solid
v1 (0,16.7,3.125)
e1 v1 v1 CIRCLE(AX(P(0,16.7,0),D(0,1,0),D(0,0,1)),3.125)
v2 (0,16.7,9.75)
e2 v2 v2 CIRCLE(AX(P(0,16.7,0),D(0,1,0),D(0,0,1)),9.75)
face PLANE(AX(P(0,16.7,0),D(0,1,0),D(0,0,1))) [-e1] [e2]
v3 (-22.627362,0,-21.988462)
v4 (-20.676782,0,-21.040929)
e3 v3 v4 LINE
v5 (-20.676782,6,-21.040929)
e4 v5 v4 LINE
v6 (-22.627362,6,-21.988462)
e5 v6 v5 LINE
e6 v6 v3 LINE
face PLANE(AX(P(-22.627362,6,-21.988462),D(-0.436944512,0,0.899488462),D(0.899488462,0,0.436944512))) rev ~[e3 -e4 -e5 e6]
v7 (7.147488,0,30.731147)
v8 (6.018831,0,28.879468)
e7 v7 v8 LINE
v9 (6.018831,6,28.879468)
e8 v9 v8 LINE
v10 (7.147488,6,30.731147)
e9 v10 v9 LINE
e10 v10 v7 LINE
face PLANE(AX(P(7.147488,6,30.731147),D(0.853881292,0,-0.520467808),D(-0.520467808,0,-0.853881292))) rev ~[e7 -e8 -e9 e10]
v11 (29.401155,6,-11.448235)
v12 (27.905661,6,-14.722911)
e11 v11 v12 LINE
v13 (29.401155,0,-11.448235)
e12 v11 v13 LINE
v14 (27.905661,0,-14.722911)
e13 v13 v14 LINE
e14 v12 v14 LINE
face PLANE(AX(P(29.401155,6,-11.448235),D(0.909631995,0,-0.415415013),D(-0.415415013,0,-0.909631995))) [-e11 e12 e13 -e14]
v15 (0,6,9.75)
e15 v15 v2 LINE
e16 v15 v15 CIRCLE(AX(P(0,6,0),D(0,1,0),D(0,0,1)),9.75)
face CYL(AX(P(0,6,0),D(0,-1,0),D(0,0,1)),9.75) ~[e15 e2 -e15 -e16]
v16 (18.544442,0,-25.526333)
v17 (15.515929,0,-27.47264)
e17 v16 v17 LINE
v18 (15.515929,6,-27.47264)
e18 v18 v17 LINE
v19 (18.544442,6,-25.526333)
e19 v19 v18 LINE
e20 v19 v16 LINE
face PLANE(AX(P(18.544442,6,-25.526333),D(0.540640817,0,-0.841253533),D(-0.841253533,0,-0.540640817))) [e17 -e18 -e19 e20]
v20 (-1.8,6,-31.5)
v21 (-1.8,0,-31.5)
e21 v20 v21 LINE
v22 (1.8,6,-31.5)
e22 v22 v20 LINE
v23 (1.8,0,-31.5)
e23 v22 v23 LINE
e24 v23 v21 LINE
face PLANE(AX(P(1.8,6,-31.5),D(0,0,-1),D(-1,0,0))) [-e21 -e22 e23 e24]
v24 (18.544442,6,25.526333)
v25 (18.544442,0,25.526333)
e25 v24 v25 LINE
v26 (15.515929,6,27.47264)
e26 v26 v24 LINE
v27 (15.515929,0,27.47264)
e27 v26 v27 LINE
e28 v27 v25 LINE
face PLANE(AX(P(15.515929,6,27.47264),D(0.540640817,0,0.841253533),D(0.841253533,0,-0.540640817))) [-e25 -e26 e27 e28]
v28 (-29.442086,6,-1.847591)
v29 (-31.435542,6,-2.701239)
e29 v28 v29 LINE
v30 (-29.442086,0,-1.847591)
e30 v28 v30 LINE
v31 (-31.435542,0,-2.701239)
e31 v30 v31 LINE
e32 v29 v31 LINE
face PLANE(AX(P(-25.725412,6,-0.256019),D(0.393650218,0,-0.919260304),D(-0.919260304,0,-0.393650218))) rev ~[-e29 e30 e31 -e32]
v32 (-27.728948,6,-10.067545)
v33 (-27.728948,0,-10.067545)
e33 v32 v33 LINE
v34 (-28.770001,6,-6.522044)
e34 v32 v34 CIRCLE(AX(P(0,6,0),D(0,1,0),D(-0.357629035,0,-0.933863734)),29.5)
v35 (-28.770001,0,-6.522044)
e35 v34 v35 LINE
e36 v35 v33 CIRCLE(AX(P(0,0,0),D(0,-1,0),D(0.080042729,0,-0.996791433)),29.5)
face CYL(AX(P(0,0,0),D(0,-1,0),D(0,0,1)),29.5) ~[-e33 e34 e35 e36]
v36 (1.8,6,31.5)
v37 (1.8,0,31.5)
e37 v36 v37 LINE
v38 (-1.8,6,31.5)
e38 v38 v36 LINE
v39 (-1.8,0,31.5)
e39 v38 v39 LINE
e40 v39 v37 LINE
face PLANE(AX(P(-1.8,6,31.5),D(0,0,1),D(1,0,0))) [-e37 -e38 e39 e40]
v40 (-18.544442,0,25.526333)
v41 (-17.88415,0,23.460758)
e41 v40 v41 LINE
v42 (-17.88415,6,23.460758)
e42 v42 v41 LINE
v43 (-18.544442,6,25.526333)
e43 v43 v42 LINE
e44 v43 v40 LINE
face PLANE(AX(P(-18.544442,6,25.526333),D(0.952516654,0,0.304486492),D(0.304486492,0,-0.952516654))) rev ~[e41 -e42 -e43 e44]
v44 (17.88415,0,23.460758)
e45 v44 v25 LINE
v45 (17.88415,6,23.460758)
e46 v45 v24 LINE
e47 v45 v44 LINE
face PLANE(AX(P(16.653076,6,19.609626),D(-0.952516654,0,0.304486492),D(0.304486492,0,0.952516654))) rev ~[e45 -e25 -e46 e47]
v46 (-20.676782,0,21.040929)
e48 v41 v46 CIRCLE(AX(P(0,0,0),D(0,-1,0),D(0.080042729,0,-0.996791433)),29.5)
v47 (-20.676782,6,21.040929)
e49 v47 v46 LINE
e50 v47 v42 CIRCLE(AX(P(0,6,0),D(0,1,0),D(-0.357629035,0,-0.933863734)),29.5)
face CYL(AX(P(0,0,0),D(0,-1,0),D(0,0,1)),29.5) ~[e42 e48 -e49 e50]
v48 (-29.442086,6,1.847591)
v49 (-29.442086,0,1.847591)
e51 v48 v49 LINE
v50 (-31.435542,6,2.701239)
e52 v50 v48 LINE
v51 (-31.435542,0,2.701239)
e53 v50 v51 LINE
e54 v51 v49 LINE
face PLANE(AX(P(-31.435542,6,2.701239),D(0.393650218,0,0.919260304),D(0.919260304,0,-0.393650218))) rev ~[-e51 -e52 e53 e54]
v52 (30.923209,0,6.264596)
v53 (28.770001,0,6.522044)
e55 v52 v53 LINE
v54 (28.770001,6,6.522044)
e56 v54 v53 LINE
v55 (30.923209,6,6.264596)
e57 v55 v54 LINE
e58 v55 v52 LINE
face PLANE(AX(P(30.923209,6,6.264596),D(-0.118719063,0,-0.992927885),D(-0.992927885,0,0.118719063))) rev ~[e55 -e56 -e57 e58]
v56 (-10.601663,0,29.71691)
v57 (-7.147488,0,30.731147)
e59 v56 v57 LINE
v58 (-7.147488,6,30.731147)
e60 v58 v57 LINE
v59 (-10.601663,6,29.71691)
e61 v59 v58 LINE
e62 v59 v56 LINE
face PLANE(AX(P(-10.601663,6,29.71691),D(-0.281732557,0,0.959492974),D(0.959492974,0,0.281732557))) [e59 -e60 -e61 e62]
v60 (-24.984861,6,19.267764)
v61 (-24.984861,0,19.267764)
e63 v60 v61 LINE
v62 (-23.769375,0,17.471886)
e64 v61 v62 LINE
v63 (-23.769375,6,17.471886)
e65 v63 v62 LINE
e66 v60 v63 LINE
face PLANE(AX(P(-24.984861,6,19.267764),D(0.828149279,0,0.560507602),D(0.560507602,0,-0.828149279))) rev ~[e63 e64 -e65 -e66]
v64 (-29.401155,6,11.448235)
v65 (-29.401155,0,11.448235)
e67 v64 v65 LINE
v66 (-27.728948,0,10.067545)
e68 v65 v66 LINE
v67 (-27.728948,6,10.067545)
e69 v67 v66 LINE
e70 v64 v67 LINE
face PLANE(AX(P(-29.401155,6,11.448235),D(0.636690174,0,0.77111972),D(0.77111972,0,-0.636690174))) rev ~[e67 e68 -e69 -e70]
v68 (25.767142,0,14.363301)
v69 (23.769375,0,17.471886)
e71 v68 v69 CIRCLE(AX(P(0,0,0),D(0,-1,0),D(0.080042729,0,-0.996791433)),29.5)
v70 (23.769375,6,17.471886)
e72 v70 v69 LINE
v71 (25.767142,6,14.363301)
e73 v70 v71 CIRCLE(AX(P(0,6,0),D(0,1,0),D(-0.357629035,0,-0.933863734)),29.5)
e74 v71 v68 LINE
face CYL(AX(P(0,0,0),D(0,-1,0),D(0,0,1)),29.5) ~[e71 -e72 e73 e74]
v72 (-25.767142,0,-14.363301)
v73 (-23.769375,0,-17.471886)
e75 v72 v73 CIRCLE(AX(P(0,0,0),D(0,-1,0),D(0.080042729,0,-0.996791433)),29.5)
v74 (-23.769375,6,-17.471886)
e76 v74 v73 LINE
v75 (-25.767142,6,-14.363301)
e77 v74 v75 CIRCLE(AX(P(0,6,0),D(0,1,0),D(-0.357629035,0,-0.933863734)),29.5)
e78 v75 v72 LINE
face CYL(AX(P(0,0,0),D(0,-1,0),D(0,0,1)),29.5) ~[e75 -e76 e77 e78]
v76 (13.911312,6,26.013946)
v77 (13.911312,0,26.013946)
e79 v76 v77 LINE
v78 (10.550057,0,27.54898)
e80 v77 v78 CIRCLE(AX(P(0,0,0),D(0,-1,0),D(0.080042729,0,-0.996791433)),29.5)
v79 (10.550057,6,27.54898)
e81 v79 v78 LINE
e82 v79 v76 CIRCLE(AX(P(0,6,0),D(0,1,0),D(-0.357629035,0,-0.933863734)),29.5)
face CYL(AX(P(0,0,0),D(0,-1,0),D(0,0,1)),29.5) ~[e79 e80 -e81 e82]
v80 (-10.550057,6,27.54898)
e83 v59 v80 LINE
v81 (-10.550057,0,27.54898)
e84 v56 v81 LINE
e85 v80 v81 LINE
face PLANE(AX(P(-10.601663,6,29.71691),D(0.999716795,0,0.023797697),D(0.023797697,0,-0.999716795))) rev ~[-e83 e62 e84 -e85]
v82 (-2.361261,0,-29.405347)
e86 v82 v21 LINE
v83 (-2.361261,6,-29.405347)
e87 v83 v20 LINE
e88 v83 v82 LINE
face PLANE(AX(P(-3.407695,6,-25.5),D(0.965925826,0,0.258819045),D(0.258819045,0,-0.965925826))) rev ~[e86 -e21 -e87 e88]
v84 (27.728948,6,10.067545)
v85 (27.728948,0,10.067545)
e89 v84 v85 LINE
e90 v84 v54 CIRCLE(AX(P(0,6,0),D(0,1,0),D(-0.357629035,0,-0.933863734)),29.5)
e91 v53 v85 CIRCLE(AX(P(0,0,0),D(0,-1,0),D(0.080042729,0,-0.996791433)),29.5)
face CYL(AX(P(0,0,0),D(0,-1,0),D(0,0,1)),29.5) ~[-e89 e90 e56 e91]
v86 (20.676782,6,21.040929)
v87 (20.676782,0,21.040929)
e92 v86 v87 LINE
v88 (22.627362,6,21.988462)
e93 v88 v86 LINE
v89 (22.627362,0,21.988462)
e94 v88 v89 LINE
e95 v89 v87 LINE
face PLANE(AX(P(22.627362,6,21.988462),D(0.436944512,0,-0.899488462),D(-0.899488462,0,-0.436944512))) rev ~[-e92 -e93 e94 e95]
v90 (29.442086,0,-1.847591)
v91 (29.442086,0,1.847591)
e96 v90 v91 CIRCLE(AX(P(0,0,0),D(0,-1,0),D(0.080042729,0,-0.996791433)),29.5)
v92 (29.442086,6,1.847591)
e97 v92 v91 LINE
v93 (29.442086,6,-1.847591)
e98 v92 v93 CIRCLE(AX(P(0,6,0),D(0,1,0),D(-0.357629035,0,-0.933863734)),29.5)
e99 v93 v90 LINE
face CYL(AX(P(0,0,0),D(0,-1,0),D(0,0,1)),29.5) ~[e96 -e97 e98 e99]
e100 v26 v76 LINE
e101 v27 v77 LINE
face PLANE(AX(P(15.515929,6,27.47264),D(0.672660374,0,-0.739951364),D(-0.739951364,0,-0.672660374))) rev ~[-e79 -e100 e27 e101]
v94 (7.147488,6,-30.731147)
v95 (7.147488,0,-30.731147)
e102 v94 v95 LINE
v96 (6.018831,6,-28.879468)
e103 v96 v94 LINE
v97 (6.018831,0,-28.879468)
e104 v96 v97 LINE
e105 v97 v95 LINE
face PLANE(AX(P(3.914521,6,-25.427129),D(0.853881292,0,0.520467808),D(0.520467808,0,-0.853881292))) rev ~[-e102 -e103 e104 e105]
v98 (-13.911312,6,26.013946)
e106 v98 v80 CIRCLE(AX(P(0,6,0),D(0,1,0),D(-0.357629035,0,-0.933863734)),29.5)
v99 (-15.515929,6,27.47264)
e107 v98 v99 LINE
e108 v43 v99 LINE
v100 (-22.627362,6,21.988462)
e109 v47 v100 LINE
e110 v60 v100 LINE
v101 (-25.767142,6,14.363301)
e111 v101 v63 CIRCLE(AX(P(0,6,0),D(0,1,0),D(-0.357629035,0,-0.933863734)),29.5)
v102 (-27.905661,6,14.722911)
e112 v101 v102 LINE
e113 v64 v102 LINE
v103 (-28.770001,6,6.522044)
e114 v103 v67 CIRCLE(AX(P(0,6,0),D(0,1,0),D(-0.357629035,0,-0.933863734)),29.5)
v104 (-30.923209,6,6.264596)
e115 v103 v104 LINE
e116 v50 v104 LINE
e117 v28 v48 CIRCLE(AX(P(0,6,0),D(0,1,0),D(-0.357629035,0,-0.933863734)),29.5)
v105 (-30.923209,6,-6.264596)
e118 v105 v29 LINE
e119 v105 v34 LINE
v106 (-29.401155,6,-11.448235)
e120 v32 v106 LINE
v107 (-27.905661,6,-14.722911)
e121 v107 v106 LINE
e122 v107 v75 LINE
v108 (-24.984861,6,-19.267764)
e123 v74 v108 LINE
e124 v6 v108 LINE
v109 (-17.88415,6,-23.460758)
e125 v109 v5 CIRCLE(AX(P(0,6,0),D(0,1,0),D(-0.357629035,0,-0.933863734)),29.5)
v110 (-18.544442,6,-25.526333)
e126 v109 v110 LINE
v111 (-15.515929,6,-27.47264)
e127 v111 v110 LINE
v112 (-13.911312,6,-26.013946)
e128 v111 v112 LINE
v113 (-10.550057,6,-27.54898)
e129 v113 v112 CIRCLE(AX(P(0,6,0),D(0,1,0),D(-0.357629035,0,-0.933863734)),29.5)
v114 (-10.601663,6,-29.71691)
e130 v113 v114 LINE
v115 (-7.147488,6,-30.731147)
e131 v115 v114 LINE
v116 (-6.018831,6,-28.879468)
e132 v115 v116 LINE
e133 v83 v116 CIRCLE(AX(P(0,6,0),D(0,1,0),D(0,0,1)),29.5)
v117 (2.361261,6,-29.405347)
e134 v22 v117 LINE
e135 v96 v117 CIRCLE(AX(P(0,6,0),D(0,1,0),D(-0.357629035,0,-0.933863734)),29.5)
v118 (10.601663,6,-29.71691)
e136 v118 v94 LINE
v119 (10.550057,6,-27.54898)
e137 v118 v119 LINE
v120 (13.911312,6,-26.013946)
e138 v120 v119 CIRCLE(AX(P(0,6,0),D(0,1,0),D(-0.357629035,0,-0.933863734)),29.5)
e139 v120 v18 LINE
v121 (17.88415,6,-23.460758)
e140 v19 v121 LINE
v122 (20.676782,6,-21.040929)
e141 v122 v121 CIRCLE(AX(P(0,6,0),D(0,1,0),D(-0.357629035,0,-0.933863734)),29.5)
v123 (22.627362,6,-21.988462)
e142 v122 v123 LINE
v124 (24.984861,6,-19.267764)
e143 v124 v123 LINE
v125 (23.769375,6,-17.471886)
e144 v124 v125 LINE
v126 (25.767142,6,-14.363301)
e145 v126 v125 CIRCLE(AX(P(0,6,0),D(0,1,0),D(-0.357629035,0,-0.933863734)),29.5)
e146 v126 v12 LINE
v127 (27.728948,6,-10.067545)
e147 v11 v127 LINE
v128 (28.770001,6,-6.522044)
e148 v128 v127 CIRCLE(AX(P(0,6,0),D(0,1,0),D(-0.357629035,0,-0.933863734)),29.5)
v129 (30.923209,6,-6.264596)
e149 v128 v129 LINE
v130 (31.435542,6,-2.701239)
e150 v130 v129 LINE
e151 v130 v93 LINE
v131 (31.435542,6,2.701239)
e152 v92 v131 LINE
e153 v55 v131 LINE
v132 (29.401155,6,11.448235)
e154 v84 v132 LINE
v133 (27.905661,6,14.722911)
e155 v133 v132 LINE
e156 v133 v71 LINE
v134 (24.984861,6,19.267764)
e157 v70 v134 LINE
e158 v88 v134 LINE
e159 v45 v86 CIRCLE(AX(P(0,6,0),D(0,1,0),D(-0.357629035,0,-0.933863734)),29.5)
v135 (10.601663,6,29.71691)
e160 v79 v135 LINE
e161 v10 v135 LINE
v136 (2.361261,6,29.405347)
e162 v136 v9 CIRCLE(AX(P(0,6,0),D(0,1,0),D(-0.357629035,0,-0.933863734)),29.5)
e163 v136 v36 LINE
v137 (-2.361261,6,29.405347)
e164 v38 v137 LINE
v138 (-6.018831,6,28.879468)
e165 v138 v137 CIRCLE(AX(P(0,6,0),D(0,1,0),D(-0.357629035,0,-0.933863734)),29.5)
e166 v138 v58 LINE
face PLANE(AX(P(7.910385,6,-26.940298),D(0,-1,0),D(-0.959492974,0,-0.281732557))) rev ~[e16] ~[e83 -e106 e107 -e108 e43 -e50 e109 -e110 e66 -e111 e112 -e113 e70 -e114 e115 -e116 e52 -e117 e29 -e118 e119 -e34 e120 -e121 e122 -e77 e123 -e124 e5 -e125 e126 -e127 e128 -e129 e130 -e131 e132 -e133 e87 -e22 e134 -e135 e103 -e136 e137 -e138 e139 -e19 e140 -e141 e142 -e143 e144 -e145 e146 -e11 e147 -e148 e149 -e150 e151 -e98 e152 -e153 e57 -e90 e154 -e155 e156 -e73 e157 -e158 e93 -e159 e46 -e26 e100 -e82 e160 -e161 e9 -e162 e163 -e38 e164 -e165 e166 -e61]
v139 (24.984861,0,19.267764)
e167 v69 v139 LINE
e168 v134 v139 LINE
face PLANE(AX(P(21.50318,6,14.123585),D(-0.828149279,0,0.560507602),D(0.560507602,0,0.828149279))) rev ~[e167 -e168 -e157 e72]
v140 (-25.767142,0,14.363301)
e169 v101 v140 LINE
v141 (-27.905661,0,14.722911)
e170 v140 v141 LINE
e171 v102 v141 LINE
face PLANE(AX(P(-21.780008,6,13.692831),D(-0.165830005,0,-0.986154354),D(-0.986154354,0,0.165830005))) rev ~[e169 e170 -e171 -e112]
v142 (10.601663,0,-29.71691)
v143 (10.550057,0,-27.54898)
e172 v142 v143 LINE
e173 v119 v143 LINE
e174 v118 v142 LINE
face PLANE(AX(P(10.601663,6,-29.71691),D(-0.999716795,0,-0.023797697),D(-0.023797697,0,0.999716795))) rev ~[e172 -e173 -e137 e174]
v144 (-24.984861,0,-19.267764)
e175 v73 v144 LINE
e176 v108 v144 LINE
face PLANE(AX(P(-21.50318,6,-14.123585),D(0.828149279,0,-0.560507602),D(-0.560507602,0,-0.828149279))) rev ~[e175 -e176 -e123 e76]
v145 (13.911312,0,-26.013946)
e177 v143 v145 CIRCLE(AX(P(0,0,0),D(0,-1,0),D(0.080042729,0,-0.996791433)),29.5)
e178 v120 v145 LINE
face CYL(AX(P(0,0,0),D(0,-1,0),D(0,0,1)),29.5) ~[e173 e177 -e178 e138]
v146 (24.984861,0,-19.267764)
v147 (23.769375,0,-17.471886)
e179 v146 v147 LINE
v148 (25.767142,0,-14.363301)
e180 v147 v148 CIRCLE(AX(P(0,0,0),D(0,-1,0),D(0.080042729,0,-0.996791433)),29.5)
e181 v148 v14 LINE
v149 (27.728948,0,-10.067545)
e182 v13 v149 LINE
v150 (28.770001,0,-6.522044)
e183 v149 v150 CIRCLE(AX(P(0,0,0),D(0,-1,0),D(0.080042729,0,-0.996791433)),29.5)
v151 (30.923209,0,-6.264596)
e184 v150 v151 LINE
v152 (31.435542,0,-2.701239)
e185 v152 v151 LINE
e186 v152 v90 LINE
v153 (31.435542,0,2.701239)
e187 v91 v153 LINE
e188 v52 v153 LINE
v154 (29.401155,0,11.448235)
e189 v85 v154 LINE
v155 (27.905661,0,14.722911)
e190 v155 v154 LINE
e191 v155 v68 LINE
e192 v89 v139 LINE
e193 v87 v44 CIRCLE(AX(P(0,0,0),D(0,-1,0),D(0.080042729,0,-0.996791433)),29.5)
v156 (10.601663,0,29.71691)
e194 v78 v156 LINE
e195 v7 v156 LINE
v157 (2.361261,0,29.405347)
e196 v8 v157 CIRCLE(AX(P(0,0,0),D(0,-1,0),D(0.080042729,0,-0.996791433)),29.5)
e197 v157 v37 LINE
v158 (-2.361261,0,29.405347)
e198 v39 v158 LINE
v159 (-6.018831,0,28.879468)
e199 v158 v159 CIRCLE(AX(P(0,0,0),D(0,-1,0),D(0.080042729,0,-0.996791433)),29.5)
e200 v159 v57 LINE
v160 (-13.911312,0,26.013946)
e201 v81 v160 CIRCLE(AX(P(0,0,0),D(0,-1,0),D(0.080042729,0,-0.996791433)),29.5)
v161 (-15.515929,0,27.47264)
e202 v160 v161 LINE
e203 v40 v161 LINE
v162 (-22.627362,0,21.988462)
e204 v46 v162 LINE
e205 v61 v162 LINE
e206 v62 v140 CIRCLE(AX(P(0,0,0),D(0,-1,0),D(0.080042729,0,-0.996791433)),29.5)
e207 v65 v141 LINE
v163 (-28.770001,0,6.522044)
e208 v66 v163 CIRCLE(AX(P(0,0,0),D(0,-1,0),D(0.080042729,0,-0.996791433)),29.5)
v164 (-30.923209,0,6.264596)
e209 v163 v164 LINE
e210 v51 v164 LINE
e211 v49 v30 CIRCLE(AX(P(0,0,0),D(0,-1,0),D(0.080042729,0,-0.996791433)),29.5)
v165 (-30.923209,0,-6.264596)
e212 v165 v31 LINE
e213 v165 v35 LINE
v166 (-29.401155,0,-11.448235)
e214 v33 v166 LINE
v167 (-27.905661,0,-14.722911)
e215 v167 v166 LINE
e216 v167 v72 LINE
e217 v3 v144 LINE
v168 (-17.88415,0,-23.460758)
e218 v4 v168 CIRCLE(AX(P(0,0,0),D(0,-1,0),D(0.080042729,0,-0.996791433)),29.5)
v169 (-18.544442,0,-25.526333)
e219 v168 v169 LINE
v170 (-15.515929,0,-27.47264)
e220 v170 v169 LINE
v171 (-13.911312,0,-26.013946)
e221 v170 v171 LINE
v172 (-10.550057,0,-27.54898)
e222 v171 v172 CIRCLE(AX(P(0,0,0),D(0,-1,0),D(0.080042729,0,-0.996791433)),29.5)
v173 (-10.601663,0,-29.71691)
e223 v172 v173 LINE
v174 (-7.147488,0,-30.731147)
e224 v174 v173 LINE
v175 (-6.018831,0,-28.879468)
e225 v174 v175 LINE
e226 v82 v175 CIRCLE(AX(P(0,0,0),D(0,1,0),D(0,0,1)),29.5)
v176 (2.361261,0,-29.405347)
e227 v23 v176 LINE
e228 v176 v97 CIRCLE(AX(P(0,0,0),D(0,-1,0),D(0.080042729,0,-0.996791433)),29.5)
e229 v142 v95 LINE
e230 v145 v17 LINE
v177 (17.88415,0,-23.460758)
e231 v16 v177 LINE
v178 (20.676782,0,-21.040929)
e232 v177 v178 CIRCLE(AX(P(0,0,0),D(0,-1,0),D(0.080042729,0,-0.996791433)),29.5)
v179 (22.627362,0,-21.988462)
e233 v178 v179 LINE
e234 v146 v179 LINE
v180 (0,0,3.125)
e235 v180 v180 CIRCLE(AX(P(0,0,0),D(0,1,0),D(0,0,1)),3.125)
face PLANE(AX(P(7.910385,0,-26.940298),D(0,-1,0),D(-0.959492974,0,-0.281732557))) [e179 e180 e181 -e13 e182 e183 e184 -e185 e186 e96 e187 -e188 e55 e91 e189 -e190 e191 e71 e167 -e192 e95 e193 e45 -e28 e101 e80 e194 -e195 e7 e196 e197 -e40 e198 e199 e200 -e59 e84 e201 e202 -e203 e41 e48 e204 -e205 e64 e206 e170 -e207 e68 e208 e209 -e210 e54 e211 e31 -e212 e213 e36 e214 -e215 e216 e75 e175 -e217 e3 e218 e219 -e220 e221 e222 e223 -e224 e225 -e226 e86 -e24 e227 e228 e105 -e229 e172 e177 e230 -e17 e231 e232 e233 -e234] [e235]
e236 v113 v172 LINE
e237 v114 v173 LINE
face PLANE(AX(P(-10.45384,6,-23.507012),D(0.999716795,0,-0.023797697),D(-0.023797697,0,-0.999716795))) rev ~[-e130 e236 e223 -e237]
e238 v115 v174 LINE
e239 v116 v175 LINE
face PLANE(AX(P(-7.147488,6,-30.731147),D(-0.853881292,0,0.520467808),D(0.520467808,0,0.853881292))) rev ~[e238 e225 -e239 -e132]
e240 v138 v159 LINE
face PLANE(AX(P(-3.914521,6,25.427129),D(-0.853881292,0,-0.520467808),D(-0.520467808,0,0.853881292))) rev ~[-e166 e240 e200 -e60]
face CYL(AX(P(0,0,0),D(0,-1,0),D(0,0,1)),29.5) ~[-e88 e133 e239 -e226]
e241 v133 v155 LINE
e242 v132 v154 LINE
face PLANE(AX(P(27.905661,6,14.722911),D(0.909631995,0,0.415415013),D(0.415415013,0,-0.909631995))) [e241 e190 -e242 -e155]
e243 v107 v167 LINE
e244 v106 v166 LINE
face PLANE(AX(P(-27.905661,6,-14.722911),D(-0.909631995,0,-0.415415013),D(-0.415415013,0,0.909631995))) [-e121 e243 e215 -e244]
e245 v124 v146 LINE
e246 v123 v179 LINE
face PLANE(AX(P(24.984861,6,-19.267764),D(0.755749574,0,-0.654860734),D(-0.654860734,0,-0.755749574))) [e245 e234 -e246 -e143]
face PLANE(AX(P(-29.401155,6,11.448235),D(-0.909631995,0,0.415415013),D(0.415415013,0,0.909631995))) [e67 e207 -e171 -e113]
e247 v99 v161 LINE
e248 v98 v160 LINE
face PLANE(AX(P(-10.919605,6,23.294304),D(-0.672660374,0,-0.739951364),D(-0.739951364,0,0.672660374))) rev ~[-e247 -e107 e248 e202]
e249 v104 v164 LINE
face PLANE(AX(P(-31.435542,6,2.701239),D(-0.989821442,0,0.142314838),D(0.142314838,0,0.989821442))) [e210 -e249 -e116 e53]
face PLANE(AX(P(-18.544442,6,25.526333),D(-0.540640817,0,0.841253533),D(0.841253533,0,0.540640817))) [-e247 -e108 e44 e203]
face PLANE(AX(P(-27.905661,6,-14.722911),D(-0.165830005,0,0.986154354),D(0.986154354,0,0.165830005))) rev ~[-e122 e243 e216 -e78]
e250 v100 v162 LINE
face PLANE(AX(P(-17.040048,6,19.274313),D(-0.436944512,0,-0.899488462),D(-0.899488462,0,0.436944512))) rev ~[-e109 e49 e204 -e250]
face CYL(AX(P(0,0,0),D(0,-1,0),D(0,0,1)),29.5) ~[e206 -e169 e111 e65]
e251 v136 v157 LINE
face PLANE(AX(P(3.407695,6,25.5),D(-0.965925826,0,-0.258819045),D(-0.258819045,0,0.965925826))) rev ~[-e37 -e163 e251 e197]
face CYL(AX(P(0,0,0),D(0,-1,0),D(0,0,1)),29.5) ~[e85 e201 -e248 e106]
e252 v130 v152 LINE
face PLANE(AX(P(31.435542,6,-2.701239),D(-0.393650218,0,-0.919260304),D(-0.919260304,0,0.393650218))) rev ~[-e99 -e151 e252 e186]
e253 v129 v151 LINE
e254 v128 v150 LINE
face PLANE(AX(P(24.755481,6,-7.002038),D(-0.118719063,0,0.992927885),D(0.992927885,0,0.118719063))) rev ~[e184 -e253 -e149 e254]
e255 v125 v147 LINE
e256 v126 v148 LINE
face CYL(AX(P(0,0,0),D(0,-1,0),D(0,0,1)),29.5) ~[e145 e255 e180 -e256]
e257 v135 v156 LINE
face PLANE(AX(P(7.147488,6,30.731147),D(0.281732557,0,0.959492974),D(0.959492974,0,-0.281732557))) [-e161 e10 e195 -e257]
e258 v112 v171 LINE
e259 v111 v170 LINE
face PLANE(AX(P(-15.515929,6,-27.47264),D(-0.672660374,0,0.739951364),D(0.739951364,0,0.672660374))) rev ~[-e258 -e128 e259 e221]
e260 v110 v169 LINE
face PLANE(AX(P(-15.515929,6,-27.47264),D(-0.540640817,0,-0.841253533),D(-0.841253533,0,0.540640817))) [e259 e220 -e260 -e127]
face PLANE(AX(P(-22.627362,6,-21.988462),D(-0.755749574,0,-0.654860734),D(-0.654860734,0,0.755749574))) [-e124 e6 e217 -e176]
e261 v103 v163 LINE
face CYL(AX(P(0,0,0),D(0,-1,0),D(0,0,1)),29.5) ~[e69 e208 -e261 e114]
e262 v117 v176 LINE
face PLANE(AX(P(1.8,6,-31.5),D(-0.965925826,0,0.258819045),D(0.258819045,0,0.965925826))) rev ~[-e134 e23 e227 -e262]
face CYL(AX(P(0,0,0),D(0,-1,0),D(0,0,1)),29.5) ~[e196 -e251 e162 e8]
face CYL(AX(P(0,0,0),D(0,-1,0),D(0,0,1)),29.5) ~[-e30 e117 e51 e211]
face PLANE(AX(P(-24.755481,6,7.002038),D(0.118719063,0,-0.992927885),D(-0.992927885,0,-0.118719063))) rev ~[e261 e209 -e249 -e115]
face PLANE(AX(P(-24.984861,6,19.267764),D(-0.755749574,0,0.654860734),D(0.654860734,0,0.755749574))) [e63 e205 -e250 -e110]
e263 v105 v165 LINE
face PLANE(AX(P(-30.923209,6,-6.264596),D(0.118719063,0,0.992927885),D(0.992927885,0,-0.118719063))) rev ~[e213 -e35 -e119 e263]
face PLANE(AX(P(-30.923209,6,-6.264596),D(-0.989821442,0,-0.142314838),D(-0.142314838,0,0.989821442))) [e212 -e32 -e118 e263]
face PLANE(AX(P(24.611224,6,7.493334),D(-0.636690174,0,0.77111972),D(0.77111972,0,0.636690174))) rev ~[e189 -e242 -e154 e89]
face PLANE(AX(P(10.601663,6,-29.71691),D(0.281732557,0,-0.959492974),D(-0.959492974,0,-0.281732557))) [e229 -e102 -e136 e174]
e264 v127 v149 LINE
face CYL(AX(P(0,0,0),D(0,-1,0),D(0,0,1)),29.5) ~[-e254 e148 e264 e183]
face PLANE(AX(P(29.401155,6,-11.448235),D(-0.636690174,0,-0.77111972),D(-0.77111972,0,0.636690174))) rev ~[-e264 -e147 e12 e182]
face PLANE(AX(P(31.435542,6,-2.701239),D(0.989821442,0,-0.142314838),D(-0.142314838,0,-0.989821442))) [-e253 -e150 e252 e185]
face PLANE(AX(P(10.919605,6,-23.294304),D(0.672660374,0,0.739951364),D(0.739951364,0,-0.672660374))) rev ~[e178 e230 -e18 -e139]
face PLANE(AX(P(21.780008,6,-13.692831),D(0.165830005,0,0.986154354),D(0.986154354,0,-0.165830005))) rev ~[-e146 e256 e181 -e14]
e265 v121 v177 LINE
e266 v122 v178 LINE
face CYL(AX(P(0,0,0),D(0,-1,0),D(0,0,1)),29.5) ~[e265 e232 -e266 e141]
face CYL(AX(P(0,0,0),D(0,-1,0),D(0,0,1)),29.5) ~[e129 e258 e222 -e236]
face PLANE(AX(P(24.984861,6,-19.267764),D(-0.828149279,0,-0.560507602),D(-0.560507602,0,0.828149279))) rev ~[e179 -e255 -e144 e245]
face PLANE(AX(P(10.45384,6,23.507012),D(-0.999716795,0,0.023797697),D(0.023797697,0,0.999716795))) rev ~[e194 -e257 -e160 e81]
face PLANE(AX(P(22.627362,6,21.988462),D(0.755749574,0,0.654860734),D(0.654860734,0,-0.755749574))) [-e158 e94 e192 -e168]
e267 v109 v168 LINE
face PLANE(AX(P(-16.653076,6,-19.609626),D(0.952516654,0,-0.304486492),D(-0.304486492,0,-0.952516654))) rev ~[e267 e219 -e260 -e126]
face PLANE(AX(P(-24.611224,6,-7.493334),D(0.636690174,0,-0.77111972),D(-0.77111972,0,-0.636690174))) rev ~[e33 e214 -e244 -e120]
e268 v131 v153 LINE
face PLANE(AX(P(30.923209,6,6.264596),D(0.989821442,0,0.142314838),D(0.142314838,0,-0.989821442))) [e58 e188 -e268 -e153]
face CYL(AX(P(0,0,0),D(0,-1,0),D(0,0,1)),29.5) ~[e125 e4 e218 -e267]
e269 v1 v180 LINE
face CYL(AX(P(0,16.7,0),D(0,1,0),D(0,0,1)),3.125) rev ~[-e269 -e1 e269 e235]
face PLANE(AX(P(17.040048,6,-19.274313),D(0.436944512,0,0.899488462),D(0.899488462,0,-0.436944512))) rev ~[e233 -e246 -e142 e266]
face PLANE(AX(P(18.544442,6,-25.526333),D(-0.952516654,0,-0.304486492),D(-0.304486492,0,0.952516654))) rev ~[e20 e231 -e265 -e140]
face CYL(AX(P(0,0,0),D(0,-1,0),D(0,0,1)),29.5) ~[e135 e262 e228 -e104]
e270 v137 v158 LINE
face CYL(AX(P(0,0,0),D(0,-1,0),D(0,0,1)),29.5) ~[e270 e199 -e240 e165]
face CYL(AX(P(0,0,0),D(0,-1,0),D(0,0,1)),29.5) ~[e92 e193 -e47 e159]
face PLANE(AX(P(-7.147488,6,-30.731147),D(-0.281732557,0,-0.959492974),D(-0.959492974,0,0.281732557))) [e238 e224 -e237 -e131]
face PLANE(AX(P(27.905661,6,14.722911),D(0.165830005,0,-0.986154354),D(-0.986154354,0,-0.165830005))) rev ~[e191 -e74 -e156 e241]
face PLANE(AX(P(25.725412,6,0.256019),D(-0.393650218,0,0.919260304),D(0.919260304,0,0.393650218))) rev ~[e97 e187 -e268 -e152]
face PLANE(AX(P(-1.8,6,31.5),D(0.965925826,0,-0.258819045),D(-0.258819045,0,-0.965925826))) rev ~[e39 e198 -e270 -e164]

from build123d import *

# Parameters (mm, degrees)
SKETCH1_R           = 29.5
BOSS_EXTRUDE3_DEPTH = 6
BOSS_EXTRUDE2_DEPTH = 6
CIRPATTERN3_COUNT   = 22
SKETCH5_R           = 9.75
BOSS_EXTRUDE4_DEPTH = 10.7
SKETCH6_R           = 3.125
CUT_EXTRUDE1_DEPTH  = 48.532444802


with BuildPart() as part:
    # Sketch1 → Boss-Extrude3 (new body)
    with BuildSketch(Plane(origin=(0, 0, 0), x_dir=(1, 0, 0), z_dir=(0, 1, 0))):
        with Locations(Location((0, 0, 0), (0, 0, 270))):
            Circle(SKETCH1_R)
    extrude(amount=BOSS_EXTRUDE3_DEPTH)

    # Sketch2 → Boss-Extrude2 (add)
    with BuildSketch(Plane(origin=(0, 6, 0), x_dir=(1, 0, 0), z_dir=(0, 1, 0))):
        Polygon((0, 31.5), (1.8, 31.5), (3.407695155, 25.5), (0, 25.5), (-3.407695155, 25.5), (-1.8, 31.5), align=None)
    boss_extrude2 = extrude(amount=-BOSS_EXTRUDE2_DEPTH)

    # CirPattern3: Boss-Extrude2 ×22 about axis
    cirpattern3_axis = Axis((0, 0, 0), (0, 1, 0))
    for i in range(1, CIRPATTERN3_COUNT):
        add(boss_extrude2.rotate(cirpattern3_axis, i * 360 / CIRPATTERN3_COUNT))

    # Sketch5 → Boss-Extrude4 (add)
    with BuildSketch(Plane(origin=(0, 6, 0), x_dir=(1, 0, 0), z_dir=(0, 1, 0))):
        with Locations(Location((0, 0, 0), (0, 0, 270))):
            Circle(SKETCH5_R)
    extrude(amount=BOSS_EXTRUDE4_DEPTH)

    # Sketch6 → Cut-Extrude1 (cut, through all)
    with BuildSketch(Plane(origin=(0, 16.7, 0), x_dir=(1, 0, 0), z_dir=(0, 1, 0))):
        with Locations(Location((0, 0, 0), (0, 0, 270))):
            Circle(SKETCH6_R)
    extrude(amount=-CUT_EXTRUDE1_DEPTH, mode=Mode.SUBTRACT)


solid = part.part
